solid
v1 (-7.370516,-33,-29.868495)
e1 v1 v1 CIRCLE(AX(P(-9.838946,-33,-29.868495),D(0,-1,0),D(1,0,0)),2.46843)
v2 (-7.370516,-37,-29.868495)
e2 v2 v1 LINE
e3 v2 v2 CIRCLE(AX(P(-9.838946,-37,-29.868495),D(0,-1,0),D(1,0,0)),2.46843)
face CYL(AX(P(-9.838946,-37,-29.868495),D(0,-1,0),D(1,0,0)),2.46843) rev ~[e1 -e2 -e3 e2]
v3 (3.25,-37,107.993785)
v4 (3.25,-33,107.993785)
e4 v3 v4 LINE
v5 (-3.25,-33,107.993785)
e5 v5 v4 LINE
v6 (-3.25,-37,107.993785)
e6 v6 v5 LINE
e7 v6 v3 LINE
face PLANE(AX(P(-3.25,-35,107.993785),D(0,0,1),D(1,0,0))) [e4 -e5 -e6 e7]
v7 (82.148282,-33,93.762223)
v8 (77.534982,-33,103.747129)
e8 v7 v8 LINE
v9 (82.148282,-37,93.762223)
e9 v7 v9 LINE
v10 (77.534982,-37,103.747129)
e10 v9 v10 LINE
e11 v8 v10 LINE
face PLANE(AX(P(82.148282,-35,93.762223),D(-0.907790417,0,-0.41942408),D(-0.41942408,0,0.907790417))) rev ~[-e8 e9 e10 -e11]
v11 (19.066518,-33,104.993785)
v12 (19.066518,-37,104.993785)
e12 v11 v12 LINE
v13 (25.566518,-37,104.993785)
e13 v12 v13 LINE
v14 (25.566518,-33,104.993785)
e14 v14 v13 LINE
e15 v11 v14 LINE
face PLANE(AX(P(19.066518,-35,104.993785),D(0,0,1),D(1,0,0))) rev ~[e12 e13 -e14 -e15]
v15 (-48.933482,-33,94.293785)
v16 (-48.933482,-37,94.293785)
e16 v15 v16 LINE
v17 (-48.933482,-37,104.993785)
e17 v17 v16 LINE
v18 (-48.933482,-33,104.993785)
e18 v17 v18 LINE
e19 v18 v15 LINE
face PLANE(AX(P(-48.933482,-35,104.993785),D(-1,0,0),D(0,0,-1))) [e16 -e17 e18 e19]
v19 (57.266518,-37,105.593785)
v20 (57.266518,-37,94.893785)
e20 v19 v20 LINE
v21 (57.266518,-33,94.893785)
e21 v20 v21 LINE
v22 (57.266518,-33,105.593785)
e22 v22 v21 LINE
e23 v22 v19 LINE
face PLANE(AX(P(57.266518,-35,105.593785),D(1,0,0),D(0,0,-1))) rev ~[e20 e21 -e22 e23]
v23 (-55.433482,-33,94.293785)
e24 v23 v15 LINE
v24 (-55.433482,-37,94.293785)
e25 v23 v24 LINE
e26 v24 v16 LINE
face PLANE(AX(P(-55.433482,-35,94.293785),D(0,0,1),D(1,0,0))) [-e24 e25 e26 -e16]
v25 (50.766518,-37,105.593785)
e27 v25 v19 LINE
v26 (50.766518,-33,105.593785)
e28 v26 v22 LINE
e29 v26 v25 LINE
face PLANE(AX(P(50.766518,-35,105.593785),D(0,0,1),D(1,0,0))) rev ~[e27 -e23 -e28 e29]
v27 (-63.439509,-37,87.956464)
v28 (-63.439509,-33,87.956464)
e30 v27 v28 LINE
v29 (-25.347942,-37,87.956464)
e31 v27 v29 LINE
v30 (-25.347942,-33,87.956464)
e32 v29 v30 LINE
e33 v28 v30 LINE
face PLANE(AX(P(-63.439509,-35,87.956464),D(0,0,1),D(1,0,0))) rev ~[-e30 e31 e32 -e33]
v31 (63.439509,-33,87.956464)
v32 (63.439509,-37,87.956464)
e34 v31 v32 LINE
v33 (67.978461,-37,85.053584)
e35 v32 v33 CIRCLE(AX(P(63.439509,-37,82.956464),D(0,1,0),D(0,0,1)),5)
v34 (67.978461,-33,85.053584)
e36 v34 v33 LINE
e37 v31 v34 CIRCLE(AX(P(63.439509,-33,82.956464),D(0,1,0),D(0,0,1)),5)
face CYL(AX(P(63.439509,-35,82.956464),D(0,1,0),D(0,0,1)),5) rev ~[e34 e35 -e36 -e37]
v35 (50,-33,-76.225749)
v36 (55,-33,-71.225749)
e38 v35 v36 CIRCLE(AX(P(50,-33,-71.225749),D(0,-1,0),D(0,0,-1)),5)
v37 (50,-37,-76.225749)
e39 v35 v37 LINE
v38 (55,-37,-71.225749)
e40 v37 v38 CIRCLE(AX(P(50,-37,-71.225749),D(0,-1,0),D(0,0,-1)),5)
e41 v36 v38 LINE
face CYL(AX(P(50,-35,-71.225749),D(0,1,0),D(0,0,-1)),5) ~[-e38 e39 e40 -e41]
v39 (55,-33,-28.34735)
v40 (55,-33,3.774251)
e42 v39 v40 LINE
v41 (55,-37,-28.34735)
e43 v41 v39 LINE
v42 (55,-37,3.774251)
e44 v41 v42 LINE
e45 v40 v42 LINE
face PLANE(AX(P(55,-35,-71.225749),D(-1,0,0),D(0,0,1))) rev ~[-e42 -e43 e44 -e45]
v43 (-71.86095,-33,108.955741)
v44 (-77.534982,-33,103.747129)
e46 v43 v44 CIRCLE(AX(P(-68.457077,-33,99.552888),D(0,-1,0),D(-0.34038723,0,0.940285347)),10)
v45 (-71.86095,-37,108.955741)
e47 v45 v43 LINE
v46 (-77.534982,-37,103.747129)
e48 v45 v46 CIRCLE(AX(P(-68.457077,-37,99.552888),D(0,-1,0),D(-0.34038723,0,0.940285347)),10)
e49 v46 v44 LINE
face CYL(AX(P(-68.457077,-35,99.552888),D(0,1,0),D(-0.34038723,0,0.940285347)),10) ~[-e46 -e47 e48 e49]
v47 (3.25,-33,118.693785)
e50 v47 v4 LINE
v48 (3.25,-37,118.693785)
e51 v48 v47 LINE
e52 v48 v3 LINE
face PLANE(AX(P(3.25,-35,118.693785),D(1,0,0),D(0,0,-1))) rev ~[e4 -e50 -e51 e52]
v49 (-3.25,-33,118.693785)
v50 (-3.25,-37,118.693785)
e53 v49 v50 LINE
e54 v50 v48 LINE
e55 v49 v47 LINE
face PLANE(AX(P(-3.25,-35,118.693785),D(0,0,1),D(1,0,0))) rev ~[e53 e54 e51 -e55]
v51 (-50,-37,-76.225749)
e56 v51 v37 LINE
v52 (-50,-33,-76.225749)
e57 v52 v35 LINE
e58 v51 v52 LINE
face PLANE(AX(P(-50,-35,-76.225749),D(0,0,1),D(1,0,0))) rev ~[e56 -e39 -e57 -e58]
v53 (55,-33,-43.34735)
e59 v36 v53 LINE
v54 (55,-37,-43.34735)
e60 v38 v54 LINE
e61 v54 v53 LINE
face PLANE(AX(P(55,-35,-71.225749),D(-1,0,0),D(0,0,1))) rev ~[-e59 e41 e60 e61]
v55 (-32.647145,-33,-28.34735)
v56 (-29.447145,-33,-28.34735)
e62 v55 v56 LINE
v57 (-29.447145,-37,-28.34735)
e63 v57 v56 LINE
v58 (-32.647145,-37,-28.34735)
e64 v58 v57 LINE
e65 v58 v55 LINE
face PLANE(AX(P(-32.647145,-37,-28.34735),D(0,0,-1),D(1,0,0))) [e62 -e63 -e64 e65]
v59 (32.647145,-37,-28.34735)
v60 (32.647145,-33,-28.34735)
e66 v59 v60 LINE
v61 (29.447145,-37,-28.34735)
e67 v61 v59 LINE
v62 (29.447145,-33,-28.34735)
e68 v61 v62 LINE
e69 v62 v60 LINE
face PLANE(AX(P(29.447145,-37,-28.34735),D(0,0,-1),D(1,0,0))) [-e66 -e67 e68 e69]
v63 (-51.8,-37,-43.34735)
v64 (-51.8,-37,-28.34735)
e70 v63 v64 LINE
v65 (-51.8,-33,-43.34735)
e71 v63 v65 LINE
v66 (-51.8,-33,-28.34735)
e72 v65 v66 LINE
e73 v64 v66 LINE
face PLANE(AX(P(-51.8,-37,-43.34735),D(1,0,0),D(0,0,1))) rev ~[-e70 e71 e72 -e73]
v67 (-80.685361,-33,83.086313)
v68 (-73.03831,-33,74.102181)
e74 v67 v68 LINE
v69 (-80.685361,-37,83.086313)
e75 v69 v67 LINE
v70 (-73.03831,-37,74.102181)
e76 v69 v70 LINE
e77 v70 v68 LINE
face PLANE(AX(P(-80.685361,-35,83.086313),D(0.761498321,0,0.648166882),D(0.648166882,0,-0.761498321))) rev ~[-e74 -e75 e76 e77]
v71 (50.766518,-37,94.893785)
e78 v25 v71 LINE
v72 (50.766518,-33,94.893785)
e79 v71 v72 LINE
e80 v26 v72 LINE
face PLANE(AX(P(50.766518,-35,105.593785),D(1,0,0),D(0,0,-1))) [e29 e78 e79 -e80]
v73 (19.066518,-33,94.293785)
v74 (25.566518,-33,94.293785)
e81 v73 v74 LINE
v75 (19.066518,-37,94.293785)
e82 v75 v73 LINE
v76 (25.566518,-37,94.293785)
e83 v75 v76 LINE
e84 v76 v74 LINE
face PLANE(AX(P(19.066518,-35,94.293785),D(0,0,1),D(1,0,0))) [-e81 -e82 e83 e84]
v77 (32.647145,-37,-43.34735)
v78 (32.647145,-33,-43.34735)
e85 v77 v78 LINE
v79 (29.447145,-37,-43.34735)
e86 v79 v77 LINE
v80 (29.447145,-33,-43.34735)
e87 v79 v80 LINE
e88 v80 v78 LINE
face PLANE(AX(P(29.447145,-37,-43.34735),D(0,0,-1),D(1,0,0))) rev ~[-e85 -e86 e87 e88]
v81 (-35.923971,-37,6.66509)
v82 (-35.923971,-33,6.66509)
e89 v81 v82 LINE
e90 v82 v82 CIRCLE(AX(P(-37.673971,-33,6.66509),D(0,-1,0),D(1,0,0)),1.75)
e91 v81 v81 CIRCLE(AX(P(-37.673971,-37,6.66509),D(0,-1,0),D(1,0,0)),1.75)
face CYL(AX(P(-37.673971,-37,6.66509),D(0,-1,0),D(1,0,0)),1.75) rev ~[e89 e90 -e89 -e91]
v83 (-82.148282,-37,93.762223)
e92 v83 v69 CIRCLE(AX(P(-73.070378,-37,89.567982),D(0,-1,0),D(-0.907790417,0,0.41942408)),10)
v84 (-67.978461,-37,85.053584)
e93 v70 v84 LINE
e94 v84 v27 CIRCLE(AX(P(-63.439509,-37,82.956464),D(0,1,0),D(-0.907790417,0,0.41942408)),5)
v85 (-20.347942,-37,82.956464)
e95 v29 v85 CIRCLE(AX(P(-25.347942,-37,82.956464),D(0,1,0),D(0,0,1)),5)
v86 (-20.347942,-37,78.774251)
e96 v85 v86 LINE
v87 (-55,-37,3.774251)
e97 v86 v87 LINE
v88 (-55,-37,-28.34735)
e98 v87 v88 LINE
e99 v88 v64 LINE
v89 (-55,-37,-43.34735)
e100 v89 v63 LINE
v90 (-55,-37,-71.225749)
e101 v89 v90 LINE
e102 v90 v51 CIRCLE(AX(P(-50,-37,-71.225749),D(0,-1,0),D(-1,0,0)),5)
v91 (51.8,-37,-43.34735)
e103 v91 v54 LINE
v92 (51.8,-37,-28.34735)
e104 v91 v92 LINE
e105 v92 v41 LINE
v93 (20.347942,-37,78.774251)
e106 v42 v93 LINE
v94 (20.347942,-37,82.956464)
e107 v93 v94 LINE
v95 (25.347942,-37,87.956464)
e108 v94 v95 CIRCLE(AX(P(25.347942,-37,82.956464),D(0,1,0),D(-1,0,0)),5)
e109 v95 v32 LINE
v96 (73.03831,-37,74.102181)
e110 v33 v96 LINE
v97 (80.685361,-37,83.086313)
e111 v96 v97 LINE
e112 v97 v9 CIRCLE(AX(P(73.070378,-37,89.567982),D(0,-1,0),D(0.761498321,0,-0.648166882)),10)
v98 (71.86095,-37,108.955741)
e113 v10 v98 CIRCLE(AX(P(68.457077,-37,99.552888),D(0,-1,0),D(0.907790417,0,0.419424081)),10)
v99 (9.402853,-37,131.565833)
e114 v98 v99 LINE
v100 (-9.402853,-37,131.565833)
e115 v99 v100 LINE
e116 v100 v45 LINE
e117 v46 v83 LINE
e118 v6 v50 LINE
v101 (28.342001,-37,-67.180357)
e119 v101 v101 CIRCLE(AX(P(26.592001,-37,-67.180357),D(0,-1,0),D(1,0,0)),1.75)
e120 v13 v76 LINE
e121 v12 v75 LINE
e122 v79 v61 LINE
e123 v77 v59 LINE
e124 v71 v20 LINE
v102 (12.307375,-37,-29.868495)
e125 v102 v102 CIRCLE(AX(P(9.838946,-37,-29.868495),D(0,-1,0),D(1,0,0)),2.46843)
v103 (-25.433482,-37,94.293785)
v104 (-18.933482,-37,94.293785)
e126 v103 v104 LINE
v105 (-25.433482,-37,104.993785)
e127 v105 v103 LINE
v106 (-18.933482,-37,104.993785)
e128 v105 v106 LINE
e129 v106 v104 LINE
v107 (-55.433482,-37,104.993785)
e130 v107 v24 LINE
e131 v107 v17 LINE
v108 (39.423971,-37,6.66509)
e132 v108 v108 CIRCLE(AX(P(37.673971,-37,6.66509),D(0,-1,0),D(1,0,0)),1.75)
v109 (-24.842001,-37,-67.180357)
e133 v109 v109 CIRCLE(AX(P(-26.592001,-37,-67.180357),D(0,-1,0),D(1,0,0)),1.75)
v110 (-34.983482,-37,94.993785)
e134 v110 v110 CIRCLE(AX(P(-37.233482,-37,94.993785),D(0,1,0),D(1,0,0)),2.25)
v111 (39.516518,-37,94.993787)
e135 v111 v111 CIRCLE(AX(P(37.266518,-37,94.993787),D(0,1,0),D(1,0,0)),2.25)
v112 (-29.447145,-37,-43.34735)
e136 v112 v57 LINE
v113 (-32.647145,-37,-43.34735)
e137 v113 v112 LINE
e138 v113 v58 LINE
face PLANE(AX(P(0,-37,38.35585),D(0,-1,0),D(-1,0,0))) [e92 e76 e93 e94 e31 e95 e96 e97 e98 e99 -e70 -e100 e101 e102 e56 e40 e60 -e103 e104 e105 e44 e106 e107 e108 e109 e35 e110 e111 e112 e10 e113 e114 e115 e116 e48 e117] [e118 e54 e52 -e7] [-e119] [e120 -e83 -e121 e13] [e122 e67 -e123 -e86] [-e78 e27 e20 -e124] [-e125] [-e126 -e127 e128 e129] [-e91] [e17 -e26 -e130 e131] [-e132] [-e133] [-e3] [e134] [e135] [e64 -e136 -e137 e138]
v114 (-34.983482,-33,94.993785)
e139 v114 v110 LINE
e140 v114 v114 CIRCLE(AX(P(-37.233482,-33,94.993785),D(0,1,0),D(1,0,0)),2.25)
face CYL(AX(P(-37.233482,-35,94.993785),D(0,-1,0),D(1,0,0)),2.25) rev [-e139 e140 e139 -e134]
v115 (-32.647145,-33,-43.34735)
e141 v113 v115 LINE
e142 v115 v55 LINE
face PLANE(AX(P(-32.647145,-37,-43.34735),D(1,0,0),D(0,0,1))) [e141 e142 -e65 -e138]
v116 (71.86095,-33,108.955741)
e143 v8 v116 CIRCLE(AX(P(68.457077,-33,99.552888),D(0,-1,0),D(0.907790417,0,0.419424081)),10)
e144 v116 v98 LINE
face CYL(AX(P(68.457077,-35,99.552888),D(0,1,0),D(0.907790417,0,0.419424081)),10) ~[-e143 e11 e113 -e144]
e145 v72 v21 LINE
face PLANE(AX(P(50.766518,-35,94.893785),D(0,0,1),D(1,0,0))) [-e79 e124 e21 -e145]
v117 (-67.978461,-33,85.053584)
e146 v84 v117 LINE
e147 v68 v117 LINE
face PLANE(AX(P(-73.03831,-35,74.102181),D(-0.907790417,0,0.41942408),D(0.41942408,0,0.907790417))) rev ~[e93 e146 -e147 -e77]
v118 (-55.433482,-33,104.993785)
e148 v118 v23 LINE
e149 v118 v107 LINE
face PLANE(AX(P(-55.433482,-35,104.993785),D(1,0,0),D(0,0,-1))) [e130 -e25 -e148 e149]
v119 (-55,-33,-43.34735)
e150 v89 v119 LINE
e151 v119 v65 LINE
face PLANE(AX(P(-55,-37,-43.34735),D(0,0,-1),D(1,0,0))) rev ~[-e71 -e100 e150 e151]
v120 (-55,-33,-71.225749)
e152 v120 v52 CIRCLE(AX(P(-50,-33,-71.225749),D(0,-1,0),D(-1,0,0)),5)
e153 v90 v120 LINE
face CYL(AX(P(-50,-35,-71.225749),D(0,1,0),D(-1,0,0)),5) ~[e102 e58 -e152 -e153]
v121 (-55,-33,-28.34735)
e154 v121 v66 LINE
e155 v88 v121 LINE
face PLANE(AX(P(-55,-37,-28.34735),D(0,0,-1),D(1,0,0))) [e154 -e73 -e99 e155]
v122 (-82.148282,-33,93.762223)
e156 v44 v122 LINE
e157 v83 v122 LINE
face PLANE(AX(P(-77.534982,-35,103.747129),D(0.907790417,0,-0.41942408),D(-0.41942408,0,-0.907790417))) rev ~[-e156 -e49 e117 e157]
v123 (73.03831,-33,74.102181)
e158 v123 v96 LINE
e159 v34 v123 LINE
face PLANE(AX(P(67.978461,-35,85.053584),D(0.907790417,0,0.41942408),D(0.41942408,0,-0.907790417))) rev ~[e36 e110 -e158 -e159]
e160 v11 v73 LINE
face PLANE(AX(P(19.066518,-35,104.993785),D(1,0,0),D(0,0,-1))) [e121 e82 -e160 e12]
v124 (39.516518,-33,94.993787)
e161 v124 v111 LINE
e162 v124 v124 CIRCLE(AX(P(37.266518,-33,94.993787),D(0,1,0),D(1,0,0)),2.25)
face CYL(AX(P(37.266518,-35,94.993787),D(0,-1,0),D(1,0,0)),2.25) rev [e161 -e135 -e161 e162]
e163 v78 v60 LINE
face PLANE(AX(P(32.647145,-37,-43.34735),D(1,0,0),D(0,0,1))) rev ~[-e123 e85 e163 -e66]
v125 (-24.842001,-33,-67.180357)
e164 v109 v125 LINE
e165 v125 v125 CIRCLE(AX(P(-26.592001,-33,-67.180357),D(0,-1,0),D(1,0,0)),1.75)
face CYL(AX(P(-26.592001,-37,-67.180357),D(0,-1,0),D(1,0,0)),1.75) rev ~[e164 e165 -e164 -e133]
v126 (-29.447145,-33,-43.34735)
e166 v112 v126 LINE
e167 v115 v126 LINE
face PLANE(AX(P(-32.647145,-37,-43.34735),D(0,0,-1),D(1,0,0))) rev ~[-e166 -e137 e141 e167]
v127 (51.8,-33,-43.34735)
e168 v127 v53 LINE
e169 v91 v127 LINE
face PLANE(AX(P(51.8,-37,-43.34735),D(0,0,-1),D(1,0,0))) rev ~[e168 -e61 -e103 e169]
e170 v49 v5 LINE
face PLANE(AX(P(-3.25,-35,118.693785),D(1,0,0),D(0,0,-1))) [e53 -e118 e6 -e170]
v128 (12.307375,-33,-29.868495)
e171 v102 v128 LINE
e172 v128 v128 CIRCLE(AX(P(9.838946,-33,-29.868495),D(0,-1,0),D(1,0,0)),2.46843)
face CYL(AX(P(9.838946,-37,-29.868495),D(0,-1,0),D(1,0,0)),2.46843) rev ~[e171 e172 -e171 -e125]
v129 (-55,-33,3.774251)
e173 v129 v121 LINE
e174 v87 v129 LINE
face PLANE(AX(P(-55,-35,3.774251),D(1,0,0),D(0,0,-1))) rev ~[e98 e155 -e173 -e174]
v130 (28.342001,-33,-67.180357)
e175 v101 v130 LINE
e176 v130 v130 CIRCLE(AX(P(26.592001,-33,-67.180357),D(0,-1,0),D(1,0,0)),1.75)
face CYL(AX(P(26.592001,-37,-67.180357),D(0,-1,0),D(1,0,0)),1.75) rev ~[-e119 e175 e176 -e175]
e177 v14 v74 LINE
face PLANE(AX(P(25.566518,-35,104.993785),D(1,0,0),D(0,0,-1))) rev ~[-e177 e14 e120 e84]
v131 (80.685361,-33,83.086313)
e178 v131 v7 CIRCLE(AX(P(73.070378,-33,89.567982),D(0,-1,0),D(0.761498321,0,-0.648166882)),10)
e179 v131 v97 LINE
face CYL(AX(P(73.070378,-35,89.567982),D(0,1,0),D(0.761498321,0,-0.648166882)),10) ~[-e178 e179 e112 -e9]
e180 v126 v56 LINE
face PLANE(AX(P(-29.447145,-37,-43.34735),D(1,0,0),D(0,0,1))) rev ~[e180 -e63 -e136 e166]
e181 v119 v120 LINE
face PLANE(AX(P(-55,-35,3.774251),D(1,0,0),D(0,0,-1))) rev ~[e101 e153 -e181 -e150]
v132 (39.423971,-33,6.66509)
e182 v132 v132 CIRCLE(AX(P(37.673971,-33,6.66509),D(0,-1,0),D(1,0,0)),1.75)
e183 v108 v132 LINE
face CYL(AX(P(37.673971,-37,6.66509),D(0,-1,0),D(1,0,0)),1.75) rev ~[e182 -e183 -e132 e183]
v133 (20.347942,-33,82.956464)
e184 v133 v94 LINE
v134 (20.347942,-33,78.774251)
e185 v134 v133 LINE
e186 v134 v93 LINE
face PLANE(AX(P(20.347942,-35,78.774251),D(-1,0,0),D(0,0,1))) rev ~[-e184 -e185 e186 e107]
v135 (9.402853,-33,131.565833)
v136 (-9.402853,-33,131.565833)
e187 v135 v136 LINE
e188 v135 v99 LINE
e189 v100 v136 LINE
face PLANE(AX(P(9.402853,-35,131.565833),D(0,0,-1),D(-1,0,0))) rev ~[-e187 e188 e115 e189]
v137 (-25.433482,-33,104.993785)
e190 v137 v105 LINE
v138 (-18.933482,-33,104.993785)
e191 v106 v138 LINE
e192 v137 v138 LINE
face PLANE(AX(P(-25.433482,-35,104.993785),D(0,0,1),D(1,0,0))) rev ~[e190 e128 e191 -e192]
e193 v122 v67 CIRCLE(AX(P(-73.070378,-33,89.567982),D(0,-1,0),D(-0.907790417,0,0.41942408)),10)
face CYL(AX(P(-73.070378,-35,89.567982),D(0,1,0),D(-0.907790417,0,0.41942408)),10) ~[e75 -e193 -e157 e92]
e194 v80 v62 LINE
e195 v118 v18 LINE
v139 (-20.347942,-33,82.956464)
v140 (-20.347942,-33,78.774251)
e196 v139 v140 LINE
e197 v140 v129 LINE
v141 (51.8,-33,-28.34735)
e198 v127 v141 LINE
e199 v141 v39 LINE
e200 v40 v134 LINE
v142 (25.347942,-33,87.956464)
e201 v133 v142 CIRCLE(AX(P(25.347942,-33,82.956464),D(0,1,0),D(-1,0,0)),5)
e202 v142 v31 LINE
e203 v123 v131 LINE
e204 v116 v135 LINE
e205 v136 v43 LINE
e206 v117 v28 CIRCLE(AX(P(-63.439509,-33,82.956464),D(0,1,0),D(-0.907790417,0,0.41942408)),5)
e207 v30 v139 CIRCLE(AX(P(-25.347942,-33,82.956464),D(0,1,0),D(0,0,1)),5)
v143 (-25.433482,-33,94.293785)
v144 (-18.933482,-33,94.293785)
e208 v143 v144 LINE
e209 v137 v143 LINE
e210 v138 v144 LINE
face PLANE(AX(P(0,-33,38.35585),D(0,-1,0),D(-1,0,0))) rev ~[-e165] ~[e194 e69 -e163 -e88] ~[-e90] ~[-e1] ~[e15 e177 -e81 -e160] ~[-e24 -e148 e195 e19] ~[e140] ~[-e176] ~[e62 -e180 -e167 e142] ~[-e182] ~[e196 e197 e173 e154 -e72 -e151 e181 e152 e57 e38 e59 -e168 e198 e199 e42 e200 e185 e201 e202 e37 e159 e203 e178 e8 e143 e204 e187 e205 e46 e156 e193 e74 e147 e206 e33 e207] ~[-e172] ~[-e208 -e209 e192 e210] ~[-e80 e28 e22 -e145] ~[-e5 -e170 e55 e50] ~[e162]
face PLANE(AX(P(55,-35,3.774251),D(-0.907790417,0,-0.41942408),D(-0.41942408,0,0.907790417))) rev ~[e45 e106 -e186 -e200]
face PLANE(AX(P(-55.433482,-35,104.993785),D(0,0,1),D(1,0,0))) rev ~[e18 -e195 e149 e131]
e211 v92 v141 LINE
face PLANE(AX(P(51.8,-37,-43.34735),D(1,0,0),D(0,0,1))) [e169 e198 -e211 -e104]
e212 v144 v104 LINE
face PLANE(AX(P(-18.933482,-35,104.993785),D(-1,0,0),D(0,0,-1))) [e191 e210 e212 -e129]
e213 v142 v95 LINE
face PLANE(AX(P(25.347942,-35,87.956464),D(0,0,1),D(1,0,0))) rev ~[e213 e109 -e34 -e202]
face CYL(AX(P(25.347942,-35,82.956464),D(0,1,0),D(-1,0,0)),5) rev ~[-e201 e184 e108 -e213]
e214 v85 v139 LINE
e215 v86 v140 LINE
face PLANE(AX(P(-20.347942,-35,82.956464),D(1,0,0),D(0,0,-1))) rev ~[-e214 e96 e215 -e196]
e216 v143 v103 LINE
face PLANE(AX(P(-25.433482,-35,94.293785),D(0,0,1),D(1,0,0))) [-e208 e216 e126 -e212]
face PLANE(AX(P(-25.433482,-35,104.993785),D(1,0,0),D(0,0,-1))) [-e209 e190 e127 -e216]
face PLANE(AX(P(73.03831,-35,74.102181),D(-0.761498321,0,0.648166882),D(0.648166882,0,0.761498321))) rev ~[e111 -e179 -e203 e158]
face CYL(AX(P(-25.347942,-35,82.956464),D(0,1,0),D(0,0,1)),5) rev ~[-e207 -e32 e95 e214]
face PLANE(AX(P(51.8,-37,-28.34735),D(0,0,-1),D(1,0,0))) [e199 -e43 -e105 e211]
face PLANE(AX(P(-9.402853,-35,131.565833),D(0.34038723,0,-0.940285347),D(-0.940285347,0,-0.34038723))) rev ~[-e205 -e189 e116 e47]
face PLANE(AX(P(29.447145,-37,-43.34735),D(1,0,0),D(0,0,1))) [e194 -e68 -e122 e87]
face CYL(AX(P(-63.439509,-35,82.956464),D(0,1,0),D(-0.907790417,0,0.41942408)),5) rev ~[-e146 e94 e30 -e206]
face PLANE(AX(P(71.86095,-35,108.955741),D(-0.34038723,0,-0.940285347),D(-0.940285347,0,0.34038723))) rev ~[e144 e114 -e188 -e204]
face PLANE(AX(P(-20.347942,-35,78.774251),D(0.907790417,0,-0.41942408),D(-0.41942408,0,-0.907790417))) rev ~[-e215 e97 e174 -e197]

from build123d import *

# Parameters (mm, degrees)
SKETCH1_R           = 2.25
SKETCH1_W           = 6.5
SKETCH1_H           = 10.7
BOSS_EXTRUDE1_DEPTH = 2
SKETCH3_W           = 4
SKETCH3_H           = 15
BOSS_EXTRUDE2_DEPTH = 16
FILLET1_R           = 10
FILLET2_R           = 4
CHAMFER1_SIZE       = 3
CHAMFER1_SIZE2      = 5.196152423
CUT_EXTRUDE2_DEPTH  = 16
SKETCH10_R          = 2.468429883
SKETCH10_R_2        = 1.75
SKETCH10_W          = 3.2
SKETCH10_H          = 15
CUT_EXTRUDE3_DEPTH  = 4
SKETCH12_W          = 53.277727804
SKETCH12_H          = 68.29561081
CUT_EXTRUDE4_DEPTH  = 23


with BuildPart() as part:
    # Sketch1 → Boss-Extrude1 (new body, symmetric)
    with BuildSketch(Plane(origin=(0, -35, 0), x_dir=(1, 0, 0), z_dir=(0, 1, 0))):
        with BuildLine():
            Line((-50, 76.225749335), (50, 76.225749335))
            ThreePointArc((50, 76.225749335), (53.535533906, 74.761283241), (55, 71.225749335))
            Line((55, 71.225749335), (55, -3.774250665))
            Line((55, -3.774250665), (20.347942177, -78.774250665))
            Line((20.347942177, -78.774250665), (20.347942177, -82.95646352))
            ThreePointArc((20.347942177, -82.95646352), (21.812408271, -86.491997426), (25.347942177, -87.95646352))
            Line((25.347942177, -87.95646352), (63.43950887, -87.95646352))
            ThreePointArc((63.43950887, -87.95646352), (66.133427762, -87.168683956), (67.978460954, -85.053583921))
            Line((67.978460954, -85.053583921), (73.038309614, -74.102180936))
            Line((73.038309614, -74.102180936), (80.685361178, -83.086313097))
            ThreePointArc((80.685361178, -83.086313097), (82.977793564, -88.210367772), (82.148282135, -93.762222718))
            Line((82.148282135, -93.762222718), (77.534981649, -103.747128614))
            ThreePointArc((77.534981649, -103.747128614), (75.219554646, -106.919630821), (71.860949779, -108.955741281))
            Line((71.860949779, -108.955741281), (9.40285347, -131.565833476))
            Line((9.40285347, -131.565833476), (-9.40285347, -131.565833476))
            Line((-9.40285347, -131.565833476), (-71.860949779, -108.955741281))
            ThreePointArc((-71.860949779, -108.955741281), (-75.219554646, -106.919630821), (-77.534981649, -103.747128614))
            Line((-77.534981649, -103.747128614), (-82.148282135, -93.762222718))
            ThreePointArc((-82.148282135, -93.762222718), (-82.977793564, -88.210367772), (-80.685361178, -83.086313097))
            Line((-80.685361178, -83.086313097), (-73.038309614, -74.102180936))
            Line((-73.038309614, -74.102180936), (-67.978460954, -85.053583921))
            ThreePointArc((-67.978460954, -85.053583921), (-66.133427762, -87.168683956), (-63.43950887, -87.95646352))
            Line((-63.43950887, -87.95646352), (-25.347942177, -87.95646352))
            ThreePointArc((-25.347942177, -87.95646352), (-21.812408271, -86.491997426), (-20.347942177, -82.95646352))
            Line((-20.347942177, -82.95646352), (-20.347942177, -78.774250665))
            Line((-20.347942177, -78.774250665), (-55, -3.774250665))
            Line((-55, -3.774250665), (-55, 71.225749335))
            ThreePointArc((-55, 71.225749335), (-53.535533906, 74.761283241), (-50, 76.225749335))
        make_face()
        with Locations((-37.233481524, -94.993785432)):
            Circle(SKETCH1_R, mode=Mode.SUBTRACT)
        with Locations((37.266518397, -94.993786505)):
            Circle(SKETCH1_R, mode=Mode.SUBTRACT)
        with Locations((-52.183481524, -99.643785432)):
            Rectangle(SKETCH1_W, SKETCH1_H, mode=Mode.SUBTRACT)
        with Locations((-22.183481524, -99.643785432)):
            Rectangle(SKETCH1_W, SKETCH1_H, mode=Mode.SUBTRACT)
        with Locations((22.316518476, -99.643785432)):
            Rectangle(SKETCH1_W, SKETCH1_H, mode=Mode.SUBTRACT)
        with Locations((54.016518476, -100.243785432)):
            Rectangle(SKETCH1_W, SKETCH1_H, mode=Mode.SUBTRACT)
        with Locations((0, -113.343785432)):
            Rectangle(SKETCH1_W, SKETCH1_H, mode=Mode.SUBTRACT)
    extrude(amount=BOSS_EXTRUDE1_DEPTH, both=True)

    # Sketch3 → Boss-Extrude2 (add)
    with BuildSketch(Plane.XZ.offset(37)):
        with Locations((0, 80.45646352)):
            Rectangle(SKETCH3_W, SKETCH3_H)
    extrude(amount=BOSS_EXTRUDE2_DEPTH)

    # Fillet1
    fillet1_edges = [part.edges().sort_by_distance(p)[0] for p in [
        (0, -53, 87.95646352),
    ]]
    fillet(fillet1_edges, radius=FILLET1_R)

    # Fillet2
    fillet2_edges = [part.edges().sort_by_distance(p)[0] for p in [
        (0, -53, 72.95646352),
    ]]
    fillet(fillet2_edges, radius=FILLET2_R)

    # Chamfer1
    chamfer1_edges = [part.edges().sort_by_distance(p)[0] for p in [
        (0, -37, 87.95646352),
        (-2, -37, 80.45646352),
        (0, -37, 72.95646352),
        (2, -37, 80.45646352),
    ]]
    chamfer1_side = [part.faces().sort_by_distance(p)[0] for p in [
        (-0.006927699, -37, 22.010129075),
    ]]
    chamfer(chamfer1_edges, length=CHAMFER1_SIZE, length2=CHAMFER1_SIZE2, reference=chamfer1_side[0])

    # Sketch7 → Cut-Extrude2 (cut)
    with BuildSketch(Plane.ZY.offset(2)):
        with BuildLine():
            add(Edge.make_bspline(
                [(72.95646352, -42.196152423), (75.352950237, -47.994562928), (72.95646352, -49)],
                knots=[0, 0, 0, 0.704450442, 0.704450442, 0.704450442], degree=2))
            Line((72.95646352, -42.196152423), (72.95646352, -49))
        make_face()
    extrude(amount=-CUT_EXTRUDE2_DEPTH, mode=Mode.SUBTRACT)

    # Sketch10 → Cut-Extrude3 (cut)
    with BuildSketch(Plane.XZ.offset(37)):
        with Locations((-9.838945551, -29.868495219)):
            Circle(SKETCH10_R)
        with Locations((9.838945551, -29.868495219)):
            Circle(SKETCH10_R)
        with Locations((-37.673971089, 6.665090314)):
            Circle(SKETCH10_R_2)
        with Locations((-26.592001418, -67.180357374)):
            Circle(SKETCH10_R_2)
        with Locations((37.673971089, 6.665090314)):
            Circle(SKETCH10_R_2)
        with Locations((26.592001418, -67.180357374)):
            Circle(SKETCH10_R_2)
        with Locations((-53.4, -35.847350079)):
            Rectangle(SKETCH10_W, SKETCH10_H)
        with Locations((-31.047145488, -35.847350079)):
            Rectangle(SKETCH10_W, SKETCH10_H)
        with Locations((31.047145488, -35.847350079)):
            Rectangle(SKETCH10_W, SKETCH10_H)
        with Locations((53.4, -35.847350079)):
            Rectangle(SKETCH10_W, SKETCH10_H)
    extrude(amount=-CUT_EXTRUDE3_DEPTH, mode=Mode.SUBTRACT)

    # Sketch12 → Cut-Extrude4 (cut)
    with BuildSketch(Plane(origin=(0, -37, 0), x_dir=(-1, 0, 0), z_dir=(0, -1, 0))):
        with Locations((0.715137286, -79.433896391)):
            Rectangle(SKETCH12_W, SKETCH12_H)
    extrude(amount=CUT_EXTRUDE4_DEPTH, mode=Mode.SUBTRACT)


solid = part.part
